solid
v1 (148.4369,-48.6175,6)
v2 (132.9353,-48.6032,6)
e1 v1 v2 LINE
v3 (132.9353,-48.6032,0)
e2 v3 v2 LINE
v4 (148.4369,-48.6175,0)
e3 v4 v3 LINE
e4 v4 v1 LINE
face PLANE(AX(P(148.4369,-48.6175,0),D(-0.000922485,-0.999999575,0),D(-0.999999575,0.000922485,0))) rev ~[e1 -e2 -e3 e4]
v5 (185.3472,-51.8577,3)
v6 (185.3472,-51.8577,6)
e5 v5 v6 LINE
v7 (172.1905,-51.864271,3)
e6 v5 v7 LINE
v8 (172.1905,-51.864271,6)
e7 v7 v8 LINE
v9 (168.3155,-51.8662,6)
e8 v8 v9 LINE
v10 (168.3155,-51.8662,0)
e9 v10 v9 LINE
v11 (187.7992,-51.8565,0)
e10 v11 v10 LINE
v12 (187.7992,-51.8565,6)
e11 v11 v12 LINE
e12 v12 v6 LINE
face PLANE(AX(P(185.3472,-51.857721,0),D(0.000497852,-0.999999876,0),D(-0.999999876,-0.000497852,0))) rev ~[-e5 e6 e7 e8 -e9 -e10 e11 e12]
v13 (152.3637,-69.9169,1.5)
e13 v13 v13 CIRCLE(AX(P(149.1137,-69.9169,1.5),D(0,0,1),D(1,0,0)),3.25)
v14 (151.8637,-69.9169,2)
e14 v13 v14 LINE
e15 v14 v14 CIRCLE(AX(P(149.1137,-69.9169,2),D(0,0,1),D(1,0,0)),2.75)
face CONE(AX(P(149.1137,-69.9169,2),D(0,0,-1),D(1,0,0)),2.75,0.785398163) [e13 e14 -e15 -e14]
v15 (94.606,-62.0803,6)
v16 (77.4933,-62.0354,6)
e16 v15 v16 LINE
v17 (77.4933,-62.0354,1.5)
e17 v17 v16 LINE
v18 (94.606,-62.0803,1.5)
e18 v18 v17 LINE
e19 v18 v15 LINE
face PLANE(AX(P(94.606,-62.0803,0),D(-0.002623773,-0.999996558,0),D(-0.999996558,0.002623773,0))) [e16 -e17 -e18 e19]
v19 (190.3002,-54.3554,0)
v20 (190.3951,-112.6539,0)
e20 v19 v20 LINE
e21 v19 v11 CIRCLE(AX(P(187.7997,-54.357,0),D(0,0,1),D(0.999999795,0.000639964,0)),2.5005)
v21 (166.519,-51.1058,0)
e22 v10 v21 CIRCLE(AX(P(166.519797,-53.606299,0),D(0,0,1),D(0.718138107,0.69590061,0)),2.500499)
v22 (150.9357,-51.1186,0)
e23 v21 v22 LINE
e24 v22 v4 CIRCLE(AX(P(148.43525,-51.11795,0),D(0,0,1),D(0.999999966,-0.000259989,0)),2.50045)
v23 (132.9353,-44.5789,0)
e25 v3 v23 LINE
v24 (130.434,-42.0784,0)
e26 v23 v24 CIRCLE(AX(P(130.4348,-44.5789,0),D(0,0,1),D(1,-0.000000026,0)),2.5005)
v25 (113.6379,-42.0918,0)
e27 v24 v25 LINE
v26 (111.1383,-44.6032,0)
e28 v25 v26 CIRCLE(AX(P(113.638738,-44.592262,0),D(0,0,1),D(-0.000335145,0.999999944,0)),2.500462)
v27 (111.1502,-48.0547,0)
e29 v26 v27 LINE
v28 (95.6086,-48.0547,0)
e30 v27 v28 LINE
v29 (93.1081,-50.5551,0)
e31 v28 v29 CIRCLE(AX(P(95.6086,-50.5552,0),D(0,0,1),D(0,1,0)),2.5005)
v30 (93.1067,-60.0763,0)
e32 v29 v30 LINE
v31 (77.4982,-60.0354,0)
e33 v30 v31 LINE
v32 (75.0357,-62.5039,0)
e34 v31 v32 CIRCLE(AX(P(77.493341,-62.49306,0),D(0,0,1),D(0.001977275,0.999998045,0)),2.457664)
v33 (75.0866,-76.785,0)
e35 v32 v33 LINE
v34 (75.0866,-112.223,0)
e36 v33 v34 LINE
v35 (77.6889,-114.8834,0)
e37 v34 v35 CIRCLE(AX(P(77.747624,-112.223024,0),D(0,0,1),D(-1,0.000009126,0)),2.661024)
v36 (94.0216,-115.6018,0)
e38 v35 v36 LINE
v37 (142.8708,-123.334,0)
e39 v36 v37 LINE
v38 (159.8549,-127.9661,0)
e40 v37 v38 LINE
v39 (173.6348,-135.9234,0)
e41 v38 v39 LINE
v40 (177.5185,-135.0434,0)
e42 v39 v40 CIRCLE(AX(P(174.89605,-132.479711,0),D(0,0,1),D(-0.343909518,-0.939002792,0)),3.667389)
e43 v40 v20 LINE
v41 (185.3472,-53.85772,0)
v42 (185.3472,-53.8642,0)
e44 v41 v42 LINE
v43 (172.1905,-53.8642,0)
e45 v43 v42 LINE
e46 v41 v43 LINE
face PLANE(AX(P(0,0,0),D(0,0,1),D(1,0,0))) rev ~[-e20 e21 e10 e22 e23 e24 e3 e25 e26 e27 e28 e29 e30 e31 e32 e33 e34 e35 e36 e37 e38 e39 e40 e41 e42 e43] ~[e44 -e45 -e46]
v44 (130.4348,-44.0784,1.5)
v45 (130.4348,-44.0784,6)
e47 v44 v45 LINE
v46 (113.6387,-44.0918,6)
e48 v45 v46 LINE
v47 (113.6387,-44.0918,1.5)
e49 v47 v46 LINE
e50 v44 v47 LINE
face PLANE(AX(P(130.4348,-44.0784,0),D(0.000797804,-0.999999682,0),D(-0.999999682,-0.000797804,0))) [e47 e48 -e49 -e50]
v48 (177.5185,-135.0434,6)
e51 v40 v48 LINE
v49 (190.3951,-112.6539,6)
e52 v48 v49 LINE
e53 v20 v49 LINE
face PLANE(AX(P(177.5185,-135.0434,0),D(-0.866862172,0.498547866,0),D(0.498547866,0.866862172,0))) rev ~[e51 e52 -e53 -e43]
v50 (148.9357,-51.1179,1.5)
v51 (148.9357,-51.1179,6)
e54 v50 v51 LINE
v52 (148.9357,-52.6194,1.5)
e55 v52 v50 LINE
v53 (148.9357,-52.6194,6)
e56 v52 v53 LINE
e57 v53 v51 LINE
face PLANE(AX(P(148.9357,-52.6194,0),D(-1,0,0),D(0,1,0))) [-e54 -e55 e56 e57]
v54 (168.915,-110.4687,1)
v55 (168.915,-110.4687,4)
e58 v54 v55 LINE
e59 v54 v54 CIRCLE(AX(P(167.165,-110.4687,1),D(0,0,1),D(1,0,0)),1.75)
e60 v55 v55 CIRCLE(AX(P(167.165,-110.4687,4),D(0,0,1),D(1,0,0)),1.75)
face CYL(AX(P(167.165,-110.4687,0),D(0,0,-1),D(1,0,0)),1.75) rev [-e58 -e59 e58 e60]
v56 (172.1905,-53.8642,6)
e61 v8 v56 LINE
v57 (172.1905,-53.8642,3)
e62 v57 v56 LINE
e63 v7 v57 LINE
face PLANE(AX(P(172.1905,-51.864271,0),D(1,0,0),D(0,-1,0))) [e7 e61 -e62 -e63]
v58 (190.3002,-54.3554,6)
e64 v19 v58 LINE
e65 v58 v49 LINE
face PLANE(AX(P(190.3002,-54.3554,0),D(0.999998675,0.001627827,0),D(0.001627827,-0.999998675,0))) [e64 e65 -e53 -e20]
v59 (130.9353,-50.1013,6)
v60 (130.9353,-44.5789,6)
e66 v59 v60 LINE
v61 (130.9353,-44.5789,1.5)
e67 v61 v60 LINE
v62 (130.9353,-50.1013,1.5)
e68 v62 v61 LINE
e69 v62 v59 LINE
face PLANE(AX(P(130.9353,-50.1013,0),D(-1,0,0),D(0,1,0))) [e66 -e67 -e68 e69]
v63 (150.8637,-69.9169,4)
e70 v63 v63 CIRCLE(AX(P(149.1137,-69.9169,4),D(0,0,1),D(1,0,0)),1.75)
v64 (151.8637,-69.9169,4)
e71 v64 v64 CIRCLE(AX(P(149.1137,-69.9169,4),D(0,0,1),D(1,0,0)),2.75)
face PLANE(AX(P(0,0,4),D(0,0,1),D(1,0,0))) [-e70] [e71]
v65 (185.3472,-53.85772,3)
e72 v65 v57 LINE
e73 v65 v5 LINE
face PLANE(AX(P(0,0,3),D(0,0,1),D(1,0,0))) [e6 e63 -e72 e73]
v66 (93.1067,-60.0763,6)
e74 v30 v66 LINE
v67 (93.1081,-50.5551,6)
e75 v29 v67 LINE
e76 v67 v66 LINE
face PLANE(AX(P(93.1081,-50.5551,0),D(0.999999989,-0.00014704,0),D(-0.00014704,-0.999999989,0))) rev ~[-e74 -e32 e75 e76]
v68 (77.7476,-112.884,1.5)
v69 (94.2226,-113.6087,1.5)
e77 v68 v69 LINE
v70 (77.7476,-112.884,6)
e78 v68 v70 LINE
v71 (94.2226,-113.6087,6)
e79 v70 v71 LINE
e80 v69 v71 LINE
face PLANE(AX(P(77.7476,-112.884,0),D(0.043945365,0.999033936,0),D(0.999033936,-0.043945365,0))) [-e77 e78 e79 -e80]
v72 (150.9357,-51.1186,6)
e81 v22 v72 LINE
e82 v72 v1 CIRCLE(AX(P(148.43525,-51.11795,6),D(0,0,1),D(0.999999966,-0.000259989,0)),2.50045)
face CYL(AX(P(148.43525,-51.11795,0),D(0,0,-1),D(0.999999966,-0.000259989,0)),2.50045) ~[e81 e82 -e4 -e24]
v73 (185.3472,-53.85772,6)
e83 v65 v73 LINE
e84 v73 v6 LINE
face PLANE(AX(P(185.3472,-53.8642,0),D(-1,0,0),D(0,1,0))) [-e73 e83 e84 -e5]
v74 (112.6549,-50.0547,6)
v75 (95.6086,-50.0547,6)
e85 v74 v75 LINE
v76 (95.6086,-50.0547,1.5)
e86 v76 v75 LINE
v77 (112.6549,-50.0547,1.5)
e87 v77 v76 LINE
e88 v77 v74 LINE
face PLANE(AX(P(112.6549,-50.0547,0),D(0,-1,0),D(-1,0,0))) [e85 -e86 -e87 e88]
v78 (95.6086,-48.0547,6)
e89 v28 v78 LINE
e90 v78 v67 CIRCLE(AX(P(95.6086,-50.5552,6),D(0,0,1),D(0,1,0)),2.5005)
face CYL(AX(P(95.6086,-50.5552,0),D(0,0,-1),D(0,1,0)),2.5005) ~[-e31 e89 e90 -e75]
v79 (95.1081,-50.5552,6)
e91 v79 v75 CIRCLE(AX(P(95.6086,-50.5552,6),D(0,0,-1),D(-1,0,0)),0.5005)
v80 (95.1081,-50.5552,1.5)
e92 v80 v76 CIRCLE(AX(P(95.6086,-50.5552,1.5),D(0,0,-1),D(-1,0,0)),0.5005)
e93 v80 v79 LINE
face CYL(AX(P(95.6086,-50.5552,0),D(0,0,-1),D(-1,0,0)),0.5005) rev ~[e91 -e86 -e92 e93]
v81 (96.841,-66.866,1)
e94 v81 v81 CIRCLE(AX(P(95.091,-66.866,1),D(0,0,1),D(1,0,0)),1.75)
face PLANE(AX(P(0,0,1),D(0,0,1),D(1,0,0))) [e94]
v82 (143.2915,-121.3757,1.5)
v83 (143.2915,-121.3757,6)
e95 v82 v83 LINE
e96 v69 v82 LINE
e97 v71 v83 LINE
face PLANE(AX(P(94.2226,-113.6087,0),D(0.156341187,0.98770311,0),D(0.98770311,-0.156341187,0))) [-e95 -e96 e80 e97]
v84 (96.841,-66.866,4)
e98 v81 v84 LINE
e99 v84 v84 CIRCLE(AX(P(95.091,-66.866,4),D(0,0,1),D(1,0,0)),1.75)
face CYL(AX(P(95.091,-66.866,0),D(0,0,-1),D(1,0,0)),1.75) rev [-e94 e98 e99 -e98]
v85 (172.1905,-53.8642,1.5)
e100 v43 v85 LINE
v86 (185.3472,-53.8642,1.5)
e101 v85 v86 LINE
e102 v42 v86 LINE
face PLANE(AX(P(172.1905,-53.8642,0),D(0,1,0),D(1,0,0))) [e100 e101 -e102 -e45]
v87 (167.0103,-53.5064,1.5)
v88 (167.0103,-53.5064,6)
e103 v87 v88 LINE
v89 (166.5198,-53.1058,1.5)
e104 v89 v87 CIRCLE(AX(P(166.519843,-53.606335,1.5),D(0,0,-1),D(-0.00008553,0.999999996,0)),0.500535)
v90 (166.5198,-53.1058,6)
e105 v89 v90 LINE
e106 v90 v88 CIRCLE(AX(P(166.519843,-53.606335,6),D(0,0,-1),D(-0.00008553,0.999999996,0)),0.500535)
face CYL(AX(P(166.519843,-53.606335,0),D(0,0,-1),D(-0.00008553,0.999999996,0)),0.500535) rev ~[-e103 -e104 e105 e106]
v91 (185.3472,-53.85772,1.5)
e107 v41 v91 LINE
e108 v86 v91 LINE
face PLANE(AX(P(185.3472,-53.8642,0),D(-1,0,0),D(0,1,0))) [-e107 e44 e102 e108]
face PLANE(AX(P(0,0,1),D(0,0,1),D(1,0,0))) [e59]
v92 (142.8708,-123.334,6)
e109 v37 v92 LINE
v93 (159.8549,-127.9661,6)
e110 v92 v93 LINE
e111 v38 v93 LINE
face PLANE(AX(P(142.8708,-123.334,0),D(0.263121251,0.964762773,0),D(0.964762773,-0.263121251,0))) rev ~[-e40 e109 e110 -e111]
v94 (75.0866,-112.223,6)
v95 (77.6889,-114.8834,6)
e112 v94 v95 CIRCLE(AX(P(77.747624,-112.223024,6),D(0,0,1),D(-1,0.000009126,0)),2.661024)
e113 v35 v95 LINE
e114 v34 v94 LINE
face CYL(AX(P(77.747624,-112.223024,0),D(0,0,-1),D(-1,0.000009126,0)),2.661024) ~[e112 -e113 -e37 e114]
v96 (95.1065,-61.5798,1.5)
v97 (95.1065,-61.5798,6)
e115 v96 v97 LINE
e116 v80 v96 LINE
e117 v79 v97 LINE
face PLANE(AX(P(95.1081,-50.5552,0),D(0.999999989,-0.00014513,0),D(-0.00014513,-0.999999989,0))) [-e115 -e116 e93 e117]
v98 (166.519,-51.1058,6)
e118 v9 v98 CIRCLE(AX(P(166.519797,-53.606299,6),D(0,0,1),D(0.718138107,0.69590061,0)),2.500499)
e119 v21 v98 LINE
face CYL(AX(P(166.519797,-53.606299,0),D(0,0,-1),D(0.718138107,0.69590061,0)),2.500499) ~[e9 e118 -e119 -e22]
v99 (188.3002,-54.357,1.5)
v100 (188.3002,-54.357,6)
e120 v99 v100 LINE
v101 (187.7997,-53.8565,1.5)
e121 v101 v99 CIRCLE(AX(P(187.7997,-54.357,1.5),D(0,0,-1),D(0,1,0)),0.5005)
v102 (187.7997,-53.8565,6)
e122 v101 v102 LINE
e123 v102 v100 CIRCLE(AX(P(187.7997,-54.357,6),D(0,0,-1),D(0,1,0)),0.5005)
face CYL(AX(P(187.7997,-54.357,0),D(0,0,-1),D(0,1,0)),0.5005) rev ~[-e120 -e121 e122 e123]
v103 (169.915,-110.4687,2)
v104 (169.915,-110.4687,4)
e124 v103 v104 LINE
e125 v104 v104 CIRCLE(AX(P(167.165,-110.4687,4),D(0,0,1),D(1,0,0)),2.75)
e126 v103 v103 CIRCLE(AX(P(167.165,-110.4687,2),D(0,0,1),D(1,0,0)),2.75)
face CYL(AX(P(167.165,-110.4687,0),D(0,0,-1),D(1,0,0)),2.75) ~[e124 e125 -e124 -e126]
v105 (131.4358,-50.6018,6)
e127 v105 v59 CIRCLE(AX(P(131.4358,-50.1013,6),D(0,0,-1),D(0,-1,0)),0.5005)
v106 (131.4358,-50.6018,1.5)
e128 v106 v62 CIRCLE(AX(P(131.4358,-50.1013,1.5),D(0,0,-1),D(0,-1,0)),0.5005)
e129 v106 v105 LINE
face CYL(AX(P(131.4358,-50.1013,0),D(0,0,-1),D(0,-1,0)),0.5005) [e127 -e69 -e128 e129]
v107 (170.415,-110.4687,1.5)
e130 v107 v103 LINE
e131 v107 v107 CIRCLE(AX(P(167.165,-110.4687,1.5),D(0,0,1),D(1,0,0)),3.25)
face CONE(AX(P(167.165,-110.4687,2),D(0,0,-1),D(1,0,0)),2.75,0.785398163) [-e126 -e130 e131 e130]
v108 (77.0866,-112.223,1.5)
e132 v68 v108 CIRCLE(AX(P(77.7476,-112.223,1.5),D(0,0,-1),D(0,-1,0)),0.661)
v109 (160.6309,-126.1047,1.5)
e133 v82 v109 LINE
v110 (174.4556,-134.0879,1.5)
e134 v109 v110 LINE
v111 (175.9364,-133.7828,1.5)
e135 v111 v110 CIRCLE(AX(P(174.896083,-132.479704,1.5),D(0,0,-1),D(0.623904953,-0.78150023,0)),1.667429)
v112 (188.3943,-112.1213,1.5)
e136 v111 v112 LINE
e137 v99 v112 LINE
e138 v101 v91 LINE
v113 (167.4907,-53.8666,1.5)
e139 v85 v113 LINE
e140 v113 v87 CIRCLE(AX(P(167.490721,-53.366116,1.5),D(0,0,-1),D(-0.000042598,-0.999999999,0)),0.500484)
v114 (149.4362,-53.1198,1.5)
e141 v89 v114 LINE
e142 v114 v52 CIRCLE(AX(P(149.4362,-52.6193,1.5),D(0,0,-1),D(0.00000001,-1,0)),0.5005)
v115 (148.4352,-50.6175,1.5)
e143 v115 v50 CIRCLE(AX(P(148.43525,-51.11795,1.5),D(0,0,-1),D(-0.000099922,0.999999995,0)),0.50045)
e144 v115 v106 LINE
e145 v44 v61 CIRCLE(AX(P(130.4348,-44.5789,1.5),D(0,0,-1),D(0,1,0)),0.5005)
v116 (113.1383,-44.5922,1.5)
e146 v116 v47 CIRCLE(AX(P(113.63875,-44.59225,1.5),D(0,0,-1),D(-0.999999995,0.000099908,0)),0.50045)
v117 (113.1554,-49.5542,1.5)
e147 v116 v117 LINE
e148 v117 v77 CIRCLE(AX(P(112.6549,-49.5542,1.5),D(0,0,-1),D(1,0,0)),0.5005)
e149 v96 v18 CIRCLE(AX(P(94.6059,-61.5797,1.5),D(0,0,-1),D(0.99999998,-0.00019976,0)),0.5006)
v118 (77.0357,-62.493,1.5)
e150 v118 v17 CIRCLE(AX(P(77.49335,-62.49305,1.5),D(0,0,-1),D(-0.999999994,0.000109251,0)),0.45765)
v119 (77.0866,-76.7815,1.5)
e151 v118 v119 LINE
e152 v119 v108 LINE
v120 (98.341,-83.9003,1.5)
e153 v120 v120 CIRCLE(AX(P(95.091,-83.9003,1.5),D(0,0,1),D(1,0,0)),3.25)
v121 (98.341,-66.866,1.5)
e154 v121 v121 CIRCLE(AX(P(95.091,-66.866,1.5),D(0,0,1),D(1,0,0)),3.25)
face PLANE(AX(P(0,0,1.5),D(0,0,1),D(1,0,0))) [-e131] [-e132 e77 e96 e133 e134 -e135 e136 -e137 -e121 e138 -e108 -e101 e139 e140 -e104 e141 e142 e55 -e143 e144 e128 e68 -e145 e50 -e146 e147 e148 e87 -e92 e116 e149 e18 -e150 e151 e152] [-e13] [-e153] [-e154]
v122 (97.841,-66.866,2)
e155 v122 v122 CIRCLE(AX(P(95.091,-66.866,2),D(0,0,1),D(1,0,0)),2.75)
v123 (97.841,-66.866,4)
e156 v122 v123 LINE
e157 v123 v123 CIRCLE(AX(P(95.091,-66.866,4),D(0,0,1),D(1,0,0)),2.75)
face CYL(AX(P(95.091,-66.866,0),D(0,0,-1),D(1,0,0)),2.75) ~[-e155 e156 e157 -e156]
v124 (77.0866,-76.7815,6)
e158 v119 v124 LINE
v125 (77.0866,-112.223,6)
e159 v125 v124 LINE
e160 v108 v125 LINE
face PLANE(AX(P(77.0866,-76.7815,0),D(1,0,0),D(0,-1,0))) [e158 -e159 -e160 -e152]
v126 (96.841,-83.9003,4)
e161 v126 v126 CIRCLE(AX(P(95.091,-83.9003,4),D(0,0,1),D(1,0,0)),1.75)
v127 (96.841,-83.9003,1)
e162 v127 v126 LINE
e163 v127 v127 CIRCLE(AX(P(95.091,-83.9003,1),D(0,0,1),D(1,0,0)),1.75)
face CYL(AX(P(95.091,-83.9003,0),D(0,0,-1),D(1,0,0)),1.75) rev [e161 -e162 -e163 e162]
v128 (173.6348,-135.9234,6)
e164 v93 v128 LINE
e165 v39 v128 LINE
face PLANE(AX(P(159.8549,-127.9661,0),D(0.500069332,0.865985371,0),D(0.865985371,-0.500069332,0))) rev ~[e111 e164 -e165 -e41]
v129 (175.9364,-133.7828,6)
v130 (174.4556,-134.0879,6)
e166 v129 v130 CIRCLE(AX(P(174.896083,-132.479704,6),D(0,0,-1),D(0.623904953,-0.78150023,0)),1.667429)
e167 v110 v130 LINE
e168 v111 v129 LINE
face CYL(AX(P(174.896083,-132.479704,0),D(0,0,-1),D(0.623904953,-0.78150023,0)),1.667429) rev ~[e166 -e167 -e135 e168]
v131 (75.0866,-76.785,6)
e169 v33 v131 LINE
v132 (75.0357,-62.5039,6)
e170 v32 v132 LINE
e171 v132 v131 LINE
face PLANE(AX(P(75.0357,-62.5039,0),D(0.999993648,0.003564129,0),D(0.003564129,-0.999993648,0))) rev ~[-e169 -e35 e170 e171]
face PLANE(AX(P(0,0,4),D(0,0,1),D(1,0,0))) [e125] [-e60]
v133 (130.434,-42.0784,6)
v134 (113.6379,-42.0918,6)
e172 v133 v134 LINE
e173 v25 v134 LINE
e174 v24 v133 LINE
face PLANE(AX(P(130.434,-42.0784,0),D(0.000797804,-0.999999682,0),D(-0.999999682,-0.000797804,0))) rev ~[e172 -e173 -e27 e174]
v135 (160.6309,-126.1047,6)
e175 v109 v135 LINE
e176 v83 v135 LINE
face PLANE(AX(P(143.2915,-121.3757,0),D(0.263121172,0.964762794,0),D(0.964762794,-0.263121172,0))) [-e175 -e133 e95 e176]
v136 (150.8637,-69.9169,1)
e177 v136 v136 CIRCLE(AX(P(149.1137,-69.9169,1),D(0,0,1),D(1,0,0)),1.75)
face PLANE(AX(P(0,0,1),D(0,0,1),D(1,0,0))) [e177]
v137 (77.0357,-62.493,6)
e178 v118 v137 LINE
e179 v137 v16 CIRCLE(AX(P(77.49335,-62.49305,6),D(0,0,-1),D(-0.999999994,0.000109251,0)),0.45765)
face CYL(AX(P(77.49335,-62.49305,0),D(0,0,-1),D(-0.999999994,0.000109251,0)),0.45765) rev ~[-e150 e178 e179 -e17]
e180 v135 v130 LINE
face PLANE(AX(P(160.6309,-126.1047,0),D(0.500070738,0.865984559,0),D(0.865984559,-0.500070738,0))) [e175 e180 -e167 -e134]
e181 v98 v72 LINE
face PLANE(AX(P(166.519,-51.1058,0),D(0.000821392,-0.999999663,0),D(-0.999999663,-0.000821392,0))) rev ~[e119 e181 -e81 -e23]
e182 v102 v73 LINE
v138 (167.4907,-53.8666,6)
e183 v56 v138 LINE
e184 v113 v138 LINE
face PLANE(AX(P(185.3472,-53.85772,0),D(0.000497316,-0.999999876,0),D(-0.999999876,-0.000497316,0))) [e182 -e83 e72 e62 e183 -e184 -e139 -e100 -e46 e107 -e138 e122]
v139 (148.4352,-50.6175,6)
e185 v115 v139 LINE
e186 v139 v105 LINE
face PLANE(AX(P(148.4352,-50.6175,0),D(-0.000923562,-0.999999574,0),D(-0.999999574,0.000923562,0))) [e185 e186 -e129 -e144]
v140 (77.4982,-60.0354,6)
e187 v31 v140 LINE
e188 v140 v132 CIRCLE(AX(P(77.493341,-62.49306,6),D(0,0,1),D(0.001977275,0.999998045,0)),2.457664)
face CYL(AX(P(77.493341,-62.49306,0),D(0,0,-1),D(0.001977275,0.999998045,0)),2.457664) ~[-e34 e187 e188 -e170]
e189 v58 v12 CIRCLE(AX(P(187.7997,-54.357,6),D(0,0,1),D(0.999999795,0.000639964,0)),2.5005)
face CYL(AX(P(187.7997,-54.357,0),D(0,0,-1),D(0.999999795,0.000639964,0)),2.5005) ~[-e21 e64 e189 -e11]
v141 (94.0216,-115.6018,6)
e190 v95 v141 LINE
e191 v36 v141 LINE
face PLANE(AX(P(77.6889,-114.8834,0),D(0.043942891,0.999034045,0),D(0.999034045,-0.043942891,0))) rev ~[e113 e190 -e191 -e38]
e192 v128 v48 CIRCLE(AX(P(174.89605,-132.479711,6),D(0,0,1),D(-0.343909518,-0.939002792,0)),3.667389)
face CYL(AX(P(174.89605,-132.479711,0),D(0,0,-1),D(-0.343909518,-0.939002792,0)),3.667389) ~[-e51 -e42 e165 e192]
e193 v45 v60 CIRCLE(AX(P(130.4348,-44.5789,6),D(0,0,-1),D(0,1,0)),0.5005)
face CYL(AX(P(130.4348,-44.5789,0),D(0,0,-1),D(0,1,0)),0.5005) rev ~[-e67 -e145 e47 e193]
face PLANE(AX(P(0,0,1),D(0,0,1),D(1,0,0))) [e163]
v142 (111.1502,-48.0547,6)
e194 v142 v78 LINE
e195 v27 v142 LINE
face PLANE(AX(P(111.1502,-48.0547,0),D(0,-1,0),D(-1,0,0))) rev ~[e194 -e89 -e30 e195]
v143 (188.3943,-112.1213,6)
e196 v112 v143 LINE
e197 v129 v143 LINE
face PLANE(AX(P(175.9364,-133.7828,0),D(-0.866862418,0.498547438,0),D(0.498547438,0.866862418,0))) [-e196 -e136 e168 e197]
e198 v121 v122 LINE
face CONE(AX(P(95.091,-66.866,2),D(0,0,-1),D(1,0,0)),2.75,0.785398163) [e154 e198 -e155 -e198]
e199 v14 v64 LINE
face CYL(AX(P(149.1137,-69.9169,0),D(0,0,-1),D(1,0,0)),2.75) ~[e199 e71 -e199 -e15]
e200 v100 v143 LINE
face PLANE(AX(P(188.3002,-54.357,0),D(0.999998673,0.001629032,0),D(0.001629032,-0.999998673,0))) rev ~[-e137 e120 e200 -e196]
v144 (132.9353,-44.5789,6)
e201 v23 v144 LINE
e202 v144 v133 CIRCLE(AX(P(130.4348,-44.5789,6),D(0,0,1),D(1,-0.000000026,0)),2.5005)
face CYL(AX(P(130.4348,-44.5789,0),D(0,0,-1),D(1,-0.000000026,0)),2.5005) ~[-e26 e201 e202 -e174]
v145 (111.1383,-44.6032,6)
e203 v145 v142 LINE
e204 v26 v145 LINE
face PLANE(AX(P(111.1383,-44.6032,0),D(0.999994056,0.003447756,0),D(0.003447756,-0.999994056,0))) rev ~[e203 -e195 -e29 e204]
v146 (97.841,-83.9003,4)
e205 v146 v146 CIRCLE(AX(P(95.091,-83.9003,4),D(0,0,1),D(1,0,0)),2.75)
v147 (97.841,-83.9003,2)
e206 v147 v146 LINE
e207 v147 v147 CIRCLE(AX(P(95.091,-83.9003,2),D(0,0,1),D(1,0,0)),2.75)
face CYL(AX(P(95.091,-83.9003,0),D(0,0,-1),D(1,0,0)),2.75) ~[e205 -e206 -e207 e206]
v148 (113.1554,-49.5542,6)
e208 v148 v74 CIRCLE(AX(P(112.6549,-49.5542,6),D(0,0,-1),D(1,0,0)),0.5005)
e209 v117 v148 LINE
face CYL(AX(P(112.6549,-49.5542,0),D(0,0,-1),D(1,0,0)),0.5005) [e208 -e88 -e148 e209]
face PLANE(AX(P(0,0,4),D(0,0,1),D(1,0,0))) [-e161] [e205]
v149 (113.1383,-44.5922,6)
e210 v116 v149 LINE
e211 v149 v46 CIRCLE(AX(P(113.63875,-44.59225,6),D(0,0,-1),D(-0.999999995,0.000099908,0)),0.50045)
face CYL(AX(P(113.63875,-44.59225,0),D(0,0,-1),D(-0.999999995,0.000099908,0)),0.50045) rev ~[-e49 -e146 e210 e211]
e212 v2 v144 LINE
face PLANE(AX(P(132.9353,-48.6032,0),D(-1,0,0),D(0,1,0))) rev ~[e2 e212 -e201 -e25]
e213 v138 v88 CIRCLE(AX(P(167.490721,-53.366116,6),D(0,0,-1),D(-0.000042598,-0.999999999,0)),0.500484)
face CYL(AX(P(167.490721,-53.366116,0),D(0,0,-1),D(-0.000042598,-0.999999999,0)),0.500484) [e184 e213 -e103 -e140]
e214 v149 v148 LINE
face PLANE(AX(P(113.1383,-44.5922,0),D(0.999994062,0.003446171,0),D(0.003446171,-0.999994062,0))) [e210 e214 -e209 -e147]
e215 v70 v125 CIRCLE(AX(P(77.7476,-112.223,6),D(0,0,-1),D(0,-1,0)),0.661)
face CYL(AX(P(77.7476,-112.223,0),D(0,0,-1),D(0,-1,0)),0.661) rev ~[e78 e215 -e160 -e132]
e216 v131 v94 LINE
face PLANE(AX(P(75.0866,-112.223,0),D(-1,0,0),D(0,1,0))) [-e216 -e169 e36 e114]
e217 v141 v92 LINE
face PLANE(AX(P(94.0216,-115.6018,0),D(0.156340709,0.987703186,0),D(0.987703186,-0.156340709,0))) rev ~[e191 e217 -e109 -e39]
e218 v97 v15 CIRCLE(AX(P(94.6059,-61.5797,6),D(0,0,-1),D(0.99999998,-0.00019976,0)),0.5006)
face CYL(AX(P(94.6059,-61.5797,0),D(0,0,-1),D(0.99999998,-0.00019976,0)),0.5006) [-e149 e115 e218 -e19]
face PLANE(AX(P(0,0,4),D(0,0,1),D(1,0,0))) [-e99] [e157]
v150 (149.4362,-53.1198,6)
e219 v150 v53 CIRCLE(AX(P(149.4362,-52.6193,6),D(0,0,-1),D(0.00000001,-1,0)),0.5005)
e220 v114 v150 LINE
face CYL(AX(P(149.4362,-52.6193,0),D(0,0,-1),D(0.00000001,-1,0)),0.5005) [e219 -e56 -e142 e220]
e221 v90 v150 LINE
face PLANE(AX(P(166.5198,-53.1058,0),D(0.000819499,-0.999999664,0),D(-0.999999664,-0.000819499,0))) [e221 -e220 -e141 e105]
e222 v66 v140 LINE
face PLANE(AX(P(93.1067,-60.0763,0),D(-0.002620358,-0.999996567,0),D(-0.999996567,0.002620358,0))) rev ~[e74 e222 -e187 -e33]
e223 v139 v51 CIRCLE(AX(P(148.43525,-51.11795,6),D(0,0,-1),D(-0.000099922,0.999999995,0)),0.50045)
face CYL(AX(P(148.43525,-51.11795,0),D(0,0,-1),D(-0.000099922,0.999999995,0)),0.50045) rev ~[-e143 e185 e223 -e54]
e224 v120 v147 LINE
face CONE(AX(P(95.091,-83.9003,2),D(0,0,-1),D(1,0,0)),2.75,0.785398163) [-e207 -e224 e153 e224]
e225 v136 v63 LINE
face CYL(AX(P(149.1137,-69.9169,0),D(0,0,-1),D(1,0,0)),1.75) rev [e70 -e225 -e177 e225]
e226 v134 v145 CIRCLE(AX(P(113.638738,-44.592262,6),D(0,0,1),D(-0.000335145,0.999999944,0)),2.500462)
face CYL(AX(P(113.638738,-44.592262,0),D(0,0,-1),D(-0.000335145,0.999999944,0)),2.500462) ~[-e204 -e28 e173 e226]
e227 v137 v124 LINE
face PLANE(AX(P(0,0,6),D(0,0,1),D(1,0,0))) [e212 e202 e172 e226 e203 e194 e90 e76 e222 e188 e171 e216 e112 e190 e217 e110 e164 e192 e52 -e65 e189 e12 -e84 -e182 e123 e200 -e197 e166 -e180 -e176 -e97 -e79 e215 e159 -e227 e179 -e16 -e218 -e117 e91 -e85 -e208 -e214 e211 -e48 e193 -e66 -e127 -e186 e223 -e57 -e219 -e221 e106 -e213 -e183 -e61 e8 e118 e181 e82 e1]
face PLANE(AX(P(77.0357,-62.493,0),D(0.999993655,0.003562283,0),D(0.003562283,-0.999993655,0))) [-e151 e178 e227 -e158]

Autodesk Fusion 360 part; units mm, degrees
sketch "Sketch1" plane through (0, 0, 0) normal (0, 0, 1) x (1, 0, 0)
  line L0 (187.7997, -53.8565) -> (167.4907, -53.8666)
  line L1 (94.606, -62.0803) -> (77.4933, -62.0354)
  line L2 (160.6309, -126.1047) -> (174.4556, -134.0879)
  arc A0 (166.5198, -53.1058) -> (167.0103, -53.5064) centre (166.5198, -53.6063) cw
  arc A1 (167.4907, -53.8666) -> (167.0103, -53.5064) centre (167.4907, -53.3661) cw
  line L3 (166.5198, -53.1058) -> (149.4362, -53.1198)
  arc A2 (95.1065, -61.5798) -> (94.606, -62.0803) centre (94.6059, -61.5797) cw
  arc A3 (95.1081, -50.5552) -> (95.6086, -50.0547) centre (95.6086, -50.5552) cw
  line L4 (130.4348, -44.0784) -> (113.6387, -44.0918)
  line L5 (130.9353, -50.1013) -> (130.9353, -44.5789)
  line L6 (148.4352, -50.6175) -> (131.4358, -50.6018)
  line L7 (148.9357, -52.6194) -> (148.9357, -51.1179)
  line L8 (95.1081, -50.5552) -> (95.1065, -61.5798)
  line L9 (112.6549, -50.0547) -> (95.6086, -50.0547)
  line L10 (113.1383, -44.5922) -> (113.1554, -49.5542)
  arc A4 (113.1554, -49.5542) -> (112.6549, -50.0547) centre (112.6549, -49.5542) cw
  arc A5 (113.1383, -44.5922) -> (113.6387, -44.0918) centre (113.6387, -44.5923) cw
  arc A6 (130.4348, -44.0784) -> (130.9353, -44.5789) centre (130.4348, -44.5789) cw
  arc A7 (131.4358, -50.6018) -> (130.9353, -50.1013) centre (131.4358, -50.1013) cw
  arc A8 (148.4352, -50.6175) -> (148.9357, -51.1179) centre (148.4352, -51.1179) cw
  arc A9 (149.4362, -53.1198) -> (148.9357, -52.6194) centre (149.4362, -52.6193) cw
  arc A10 (187.7997, -53.8565) -> (188.3002, -54.357) centre (187.7997, -54.357) cw
  line L11 (94.2226, -113.6087) -> (143.2915, -121.3757)
  arc A11 (175.9364, -133.7828) -> (174.4556, -134.0879) centre (174.8961, -132.4797) cw
  line L12 (77.0866, -93.8666) -> (77.0866, -110.8501)
  line L13 (77.0357, -62.493) -> (77.0866, -76.7815)
  line L14 (188.3002, -54.357) -> (188.3943, -112.1213)
  line L15 (77.0866, -112.223) -> (77.0866, -110.8501)
  line L16 (77.0866, -76.7815) -> (77.0866, -93.8666)
  arc A12 (77.0357, -62.493) -> (77.4933, -62.0354) centre (77.4934, -62.493) cw
  line L17 (77.7476, -112.884) -> (94.2226, -113.6087)
  line L18 (143.2915, -121.3757) -> (160.6309, -126.1047)
  arc A13 (77.7476, -112.884) -> (77.0866, -112.223) centre (77.7476, -112.223) cw
  line L19 (175.9364, -133.7828) -> (188.3943, -112.1213)
  circle A14 centre (95.091, -66.866) radius 2.75
  circle A15 centre (95.091, -66.866) radius 1.75
  circle A16 centre (95.091, -83.9003) radius 2.75
  circle A17 centre (95.091, -83.9003) radius 1.75
  circle A18 centre (149.1137, -69.9169) radius 2.75
  circle A19 centre (149.1137, -69.9169) radius 1.75
  circle A20 centre (167.165, -110.4687) radius 2.75
  circle A21 centre (167.165, -110.4687) radius 1.75
  line L20 (177.5185, -135.0434) -> (190.3951, -112.6539)
  line L21 (190.3002, -54.3554) -> (190.3951, -112.6539)
  arc A22 (190.3002, -54.3554) -> (187.7992, -51.8565) centre (187.7997, -54.357) ccw
  line L22 (187.7992, -51.8565) -> (168.3155, -51.8662)
  arc A23 (168.3155, -51.8662) -> (166.519, -51.1058) centre (166.5198, -53.6063) ccw
  line L23 (166.519, -51.1058) -> (150.9357, -51.1186)
  line L24 (150.9357, -51.1186) -> (150.9357, -51.1179)
  arc A24 (150.9357, -51.1179) -> (148.4369, -48.6175) centre (148.4352, -51.1179) ccw
  line L25 (148.4369, -48.6175) -> (132.9353, -48.6032)
  line L26 (132.9353, -48.6032) -> (132.9353, -44.5789)
  arc A25 (132.9353, -44.5789) -> (130.434, -42.0784) centre (130.4348, -44.5789) ccw
  line L27 (130.434, -42.0784) -> (113.6379, -42.0918)
  arc A26 (113.6379, -42.0918) -> (111.1383, -44.6032) centre (113.6387, -44.5923) ccw
  line L28 (111.1383, -44.6032) -> (111.1502, -48.0547)
  line L29 (111.1502, -48.0547) -> (95.6086, -48.0547)
  arc A27 (95.6086, -48.0547) -> (93.1081, -50.5551) centre (95.6086, -50.5552) ccw
  line L30 (93.1081, -50.5551) -> (93.1067, -60.0763)
  line L31 (93.1067, -60.0763) -> (77.4982, -60.0354)
  arc A28 (77.4982, -60.0354) -> (75.0357, -62.5039) centre (77.4934, -62.493) ccw
  line L32 (75.0357, -62.5039) -> (75.0866, -76.785)
  line L33 (75.0866, -76.785) -> (75.0866, -93.8666)
  line L34 (75.0866, -93.8666) -> (75.0866, -110.8501)
  line L35 (75.0866, -112.223) -> (75.0866, -110.8501)
  arc A29 (75.0866, -112.223) -> (77.6889, -114.8834) centre (77.7476, -112.223) ccw
  line L36 (77.6889, -114.8834) -> (94.0216, -115.6018)
  line L37 (94.0216, -115.6018) -> (142.8708, -123.334)
  line L38 (142.8708, -123.334) -> (159.8549, -127.9661)
  line L39 (159.8549, -127.9661) -> (173.6348, -135.9234)
  arc A30 (173.6348, -135.9234) -> (177.5185, -135.0434) centre (174.8961, -132.4797) ccw
  line L40 (172.1905, -53.8642) -> (185.3472, -53.8642)
  line L41 (185.3472, -53.8642) -> (185.3472, -51.8577)
  line L42 (185.3472, -51.8577) -> (172.1905, -51.8577)
  line L43 (172.1905, -51.8577) -> (172.1905, -53.8642)
  point P0 (95.091, -83.9003)
  point P1 (149.1137, -69.9169)
  point P2 (167.165, -110.4687)
  dimension "d1" = 5.5
  dimension "d2" = 3.5
  dimension "d3" = 5.5
  dimension "d4" = 3.5
  dimension "d5" = 5.5
  dimension "d6" = 3.5
  dimension "d7" = 5.5
  dimension "d8" = 3.5
  dimension "d9" = -2
extrude "Extrude1" add sketch "Sketch1" along normal blind 1.5 contours L0 L1 L2 A0 A1 L3 A2 A3 L4 L5 L6 L7 L8 L9 L10 A4 A5 A6 A7 A8 A9 A10 L11 A11 L12 L13 L14 L15 L16 A12 L17 L18 A13 L19 L40 L41 makes body 1
extrude "Extrude2" add sketch "Sketch1" along normal blind 1 separate body contours A15 makes body 2
extrude "Extrude3" add sketch "Sketch1" along normal blind 1 separate body contours A17 makes body 3
extrude "Extrude4" add sketch "Sketch1" along normal blind 1 separate body contours A19 makes body 4
extrude "Extrude5" add sketch "Sketch1" along normal blind 1 separate body contours A21 makes body 5
extrude "Extrude6" add sketch "Sketch1" along normal blind 4 contours A14 bodies 1 2
extrude "Extrude7" add sketch "Sketch1" along normal blind 4 contours A16 bodies 1 3
extrude "Extrude8" add sketch "Sketch1" along normal blind 4 contours A18 bodies 1 4
extrude "Extrude9" add sketch "Sketch1" along normal blind 4 contours A20 bodies 1 5
extrude "Extrude10" add sketch "Sketch1" along normal blind 6 contours L0 L1 L2 A0 A1 L3 A2 A3 L4 L5 L6 L7 L8 L9 L10 A4 A5 A6 A7 A8 A9 A10 L11 A11 L12 L13 L14 L15 L16 A12 L17 L18 A13 L19 L20 L21 A22 L22 A23 L23 A24 L25 L26 A25 L27 A26 L28 L29 A27 L30 L31 A28 L32 L33 L34 L35 A29 L36 L37 L38 L39 A30 L41 L43 bodies 1
extrude "Extrude11" add sketch "Sketch1" along normal blind 3 contours L0 L22 L41 L43 bodies 1
chamfer "Chamfer1" distance 0.5 angle 45 1 edges at (92.5271, -82.9058, 1.5) on bodies 1
chamfer "Chamfer2" distance 0.5 angle 45 1 edges at (92.5271, -65.8715, 1.5) on bodies 1
chamfer "Chamfer3" distance 0.5 angle 45 1 edges at (146.5498, -68.9225, 1.5) on bodies 1
chamfer "Chamfer4" distance 0.5 angle 45 1 edges at (164.6011, -109.4743, 1.5) on bodies 1
